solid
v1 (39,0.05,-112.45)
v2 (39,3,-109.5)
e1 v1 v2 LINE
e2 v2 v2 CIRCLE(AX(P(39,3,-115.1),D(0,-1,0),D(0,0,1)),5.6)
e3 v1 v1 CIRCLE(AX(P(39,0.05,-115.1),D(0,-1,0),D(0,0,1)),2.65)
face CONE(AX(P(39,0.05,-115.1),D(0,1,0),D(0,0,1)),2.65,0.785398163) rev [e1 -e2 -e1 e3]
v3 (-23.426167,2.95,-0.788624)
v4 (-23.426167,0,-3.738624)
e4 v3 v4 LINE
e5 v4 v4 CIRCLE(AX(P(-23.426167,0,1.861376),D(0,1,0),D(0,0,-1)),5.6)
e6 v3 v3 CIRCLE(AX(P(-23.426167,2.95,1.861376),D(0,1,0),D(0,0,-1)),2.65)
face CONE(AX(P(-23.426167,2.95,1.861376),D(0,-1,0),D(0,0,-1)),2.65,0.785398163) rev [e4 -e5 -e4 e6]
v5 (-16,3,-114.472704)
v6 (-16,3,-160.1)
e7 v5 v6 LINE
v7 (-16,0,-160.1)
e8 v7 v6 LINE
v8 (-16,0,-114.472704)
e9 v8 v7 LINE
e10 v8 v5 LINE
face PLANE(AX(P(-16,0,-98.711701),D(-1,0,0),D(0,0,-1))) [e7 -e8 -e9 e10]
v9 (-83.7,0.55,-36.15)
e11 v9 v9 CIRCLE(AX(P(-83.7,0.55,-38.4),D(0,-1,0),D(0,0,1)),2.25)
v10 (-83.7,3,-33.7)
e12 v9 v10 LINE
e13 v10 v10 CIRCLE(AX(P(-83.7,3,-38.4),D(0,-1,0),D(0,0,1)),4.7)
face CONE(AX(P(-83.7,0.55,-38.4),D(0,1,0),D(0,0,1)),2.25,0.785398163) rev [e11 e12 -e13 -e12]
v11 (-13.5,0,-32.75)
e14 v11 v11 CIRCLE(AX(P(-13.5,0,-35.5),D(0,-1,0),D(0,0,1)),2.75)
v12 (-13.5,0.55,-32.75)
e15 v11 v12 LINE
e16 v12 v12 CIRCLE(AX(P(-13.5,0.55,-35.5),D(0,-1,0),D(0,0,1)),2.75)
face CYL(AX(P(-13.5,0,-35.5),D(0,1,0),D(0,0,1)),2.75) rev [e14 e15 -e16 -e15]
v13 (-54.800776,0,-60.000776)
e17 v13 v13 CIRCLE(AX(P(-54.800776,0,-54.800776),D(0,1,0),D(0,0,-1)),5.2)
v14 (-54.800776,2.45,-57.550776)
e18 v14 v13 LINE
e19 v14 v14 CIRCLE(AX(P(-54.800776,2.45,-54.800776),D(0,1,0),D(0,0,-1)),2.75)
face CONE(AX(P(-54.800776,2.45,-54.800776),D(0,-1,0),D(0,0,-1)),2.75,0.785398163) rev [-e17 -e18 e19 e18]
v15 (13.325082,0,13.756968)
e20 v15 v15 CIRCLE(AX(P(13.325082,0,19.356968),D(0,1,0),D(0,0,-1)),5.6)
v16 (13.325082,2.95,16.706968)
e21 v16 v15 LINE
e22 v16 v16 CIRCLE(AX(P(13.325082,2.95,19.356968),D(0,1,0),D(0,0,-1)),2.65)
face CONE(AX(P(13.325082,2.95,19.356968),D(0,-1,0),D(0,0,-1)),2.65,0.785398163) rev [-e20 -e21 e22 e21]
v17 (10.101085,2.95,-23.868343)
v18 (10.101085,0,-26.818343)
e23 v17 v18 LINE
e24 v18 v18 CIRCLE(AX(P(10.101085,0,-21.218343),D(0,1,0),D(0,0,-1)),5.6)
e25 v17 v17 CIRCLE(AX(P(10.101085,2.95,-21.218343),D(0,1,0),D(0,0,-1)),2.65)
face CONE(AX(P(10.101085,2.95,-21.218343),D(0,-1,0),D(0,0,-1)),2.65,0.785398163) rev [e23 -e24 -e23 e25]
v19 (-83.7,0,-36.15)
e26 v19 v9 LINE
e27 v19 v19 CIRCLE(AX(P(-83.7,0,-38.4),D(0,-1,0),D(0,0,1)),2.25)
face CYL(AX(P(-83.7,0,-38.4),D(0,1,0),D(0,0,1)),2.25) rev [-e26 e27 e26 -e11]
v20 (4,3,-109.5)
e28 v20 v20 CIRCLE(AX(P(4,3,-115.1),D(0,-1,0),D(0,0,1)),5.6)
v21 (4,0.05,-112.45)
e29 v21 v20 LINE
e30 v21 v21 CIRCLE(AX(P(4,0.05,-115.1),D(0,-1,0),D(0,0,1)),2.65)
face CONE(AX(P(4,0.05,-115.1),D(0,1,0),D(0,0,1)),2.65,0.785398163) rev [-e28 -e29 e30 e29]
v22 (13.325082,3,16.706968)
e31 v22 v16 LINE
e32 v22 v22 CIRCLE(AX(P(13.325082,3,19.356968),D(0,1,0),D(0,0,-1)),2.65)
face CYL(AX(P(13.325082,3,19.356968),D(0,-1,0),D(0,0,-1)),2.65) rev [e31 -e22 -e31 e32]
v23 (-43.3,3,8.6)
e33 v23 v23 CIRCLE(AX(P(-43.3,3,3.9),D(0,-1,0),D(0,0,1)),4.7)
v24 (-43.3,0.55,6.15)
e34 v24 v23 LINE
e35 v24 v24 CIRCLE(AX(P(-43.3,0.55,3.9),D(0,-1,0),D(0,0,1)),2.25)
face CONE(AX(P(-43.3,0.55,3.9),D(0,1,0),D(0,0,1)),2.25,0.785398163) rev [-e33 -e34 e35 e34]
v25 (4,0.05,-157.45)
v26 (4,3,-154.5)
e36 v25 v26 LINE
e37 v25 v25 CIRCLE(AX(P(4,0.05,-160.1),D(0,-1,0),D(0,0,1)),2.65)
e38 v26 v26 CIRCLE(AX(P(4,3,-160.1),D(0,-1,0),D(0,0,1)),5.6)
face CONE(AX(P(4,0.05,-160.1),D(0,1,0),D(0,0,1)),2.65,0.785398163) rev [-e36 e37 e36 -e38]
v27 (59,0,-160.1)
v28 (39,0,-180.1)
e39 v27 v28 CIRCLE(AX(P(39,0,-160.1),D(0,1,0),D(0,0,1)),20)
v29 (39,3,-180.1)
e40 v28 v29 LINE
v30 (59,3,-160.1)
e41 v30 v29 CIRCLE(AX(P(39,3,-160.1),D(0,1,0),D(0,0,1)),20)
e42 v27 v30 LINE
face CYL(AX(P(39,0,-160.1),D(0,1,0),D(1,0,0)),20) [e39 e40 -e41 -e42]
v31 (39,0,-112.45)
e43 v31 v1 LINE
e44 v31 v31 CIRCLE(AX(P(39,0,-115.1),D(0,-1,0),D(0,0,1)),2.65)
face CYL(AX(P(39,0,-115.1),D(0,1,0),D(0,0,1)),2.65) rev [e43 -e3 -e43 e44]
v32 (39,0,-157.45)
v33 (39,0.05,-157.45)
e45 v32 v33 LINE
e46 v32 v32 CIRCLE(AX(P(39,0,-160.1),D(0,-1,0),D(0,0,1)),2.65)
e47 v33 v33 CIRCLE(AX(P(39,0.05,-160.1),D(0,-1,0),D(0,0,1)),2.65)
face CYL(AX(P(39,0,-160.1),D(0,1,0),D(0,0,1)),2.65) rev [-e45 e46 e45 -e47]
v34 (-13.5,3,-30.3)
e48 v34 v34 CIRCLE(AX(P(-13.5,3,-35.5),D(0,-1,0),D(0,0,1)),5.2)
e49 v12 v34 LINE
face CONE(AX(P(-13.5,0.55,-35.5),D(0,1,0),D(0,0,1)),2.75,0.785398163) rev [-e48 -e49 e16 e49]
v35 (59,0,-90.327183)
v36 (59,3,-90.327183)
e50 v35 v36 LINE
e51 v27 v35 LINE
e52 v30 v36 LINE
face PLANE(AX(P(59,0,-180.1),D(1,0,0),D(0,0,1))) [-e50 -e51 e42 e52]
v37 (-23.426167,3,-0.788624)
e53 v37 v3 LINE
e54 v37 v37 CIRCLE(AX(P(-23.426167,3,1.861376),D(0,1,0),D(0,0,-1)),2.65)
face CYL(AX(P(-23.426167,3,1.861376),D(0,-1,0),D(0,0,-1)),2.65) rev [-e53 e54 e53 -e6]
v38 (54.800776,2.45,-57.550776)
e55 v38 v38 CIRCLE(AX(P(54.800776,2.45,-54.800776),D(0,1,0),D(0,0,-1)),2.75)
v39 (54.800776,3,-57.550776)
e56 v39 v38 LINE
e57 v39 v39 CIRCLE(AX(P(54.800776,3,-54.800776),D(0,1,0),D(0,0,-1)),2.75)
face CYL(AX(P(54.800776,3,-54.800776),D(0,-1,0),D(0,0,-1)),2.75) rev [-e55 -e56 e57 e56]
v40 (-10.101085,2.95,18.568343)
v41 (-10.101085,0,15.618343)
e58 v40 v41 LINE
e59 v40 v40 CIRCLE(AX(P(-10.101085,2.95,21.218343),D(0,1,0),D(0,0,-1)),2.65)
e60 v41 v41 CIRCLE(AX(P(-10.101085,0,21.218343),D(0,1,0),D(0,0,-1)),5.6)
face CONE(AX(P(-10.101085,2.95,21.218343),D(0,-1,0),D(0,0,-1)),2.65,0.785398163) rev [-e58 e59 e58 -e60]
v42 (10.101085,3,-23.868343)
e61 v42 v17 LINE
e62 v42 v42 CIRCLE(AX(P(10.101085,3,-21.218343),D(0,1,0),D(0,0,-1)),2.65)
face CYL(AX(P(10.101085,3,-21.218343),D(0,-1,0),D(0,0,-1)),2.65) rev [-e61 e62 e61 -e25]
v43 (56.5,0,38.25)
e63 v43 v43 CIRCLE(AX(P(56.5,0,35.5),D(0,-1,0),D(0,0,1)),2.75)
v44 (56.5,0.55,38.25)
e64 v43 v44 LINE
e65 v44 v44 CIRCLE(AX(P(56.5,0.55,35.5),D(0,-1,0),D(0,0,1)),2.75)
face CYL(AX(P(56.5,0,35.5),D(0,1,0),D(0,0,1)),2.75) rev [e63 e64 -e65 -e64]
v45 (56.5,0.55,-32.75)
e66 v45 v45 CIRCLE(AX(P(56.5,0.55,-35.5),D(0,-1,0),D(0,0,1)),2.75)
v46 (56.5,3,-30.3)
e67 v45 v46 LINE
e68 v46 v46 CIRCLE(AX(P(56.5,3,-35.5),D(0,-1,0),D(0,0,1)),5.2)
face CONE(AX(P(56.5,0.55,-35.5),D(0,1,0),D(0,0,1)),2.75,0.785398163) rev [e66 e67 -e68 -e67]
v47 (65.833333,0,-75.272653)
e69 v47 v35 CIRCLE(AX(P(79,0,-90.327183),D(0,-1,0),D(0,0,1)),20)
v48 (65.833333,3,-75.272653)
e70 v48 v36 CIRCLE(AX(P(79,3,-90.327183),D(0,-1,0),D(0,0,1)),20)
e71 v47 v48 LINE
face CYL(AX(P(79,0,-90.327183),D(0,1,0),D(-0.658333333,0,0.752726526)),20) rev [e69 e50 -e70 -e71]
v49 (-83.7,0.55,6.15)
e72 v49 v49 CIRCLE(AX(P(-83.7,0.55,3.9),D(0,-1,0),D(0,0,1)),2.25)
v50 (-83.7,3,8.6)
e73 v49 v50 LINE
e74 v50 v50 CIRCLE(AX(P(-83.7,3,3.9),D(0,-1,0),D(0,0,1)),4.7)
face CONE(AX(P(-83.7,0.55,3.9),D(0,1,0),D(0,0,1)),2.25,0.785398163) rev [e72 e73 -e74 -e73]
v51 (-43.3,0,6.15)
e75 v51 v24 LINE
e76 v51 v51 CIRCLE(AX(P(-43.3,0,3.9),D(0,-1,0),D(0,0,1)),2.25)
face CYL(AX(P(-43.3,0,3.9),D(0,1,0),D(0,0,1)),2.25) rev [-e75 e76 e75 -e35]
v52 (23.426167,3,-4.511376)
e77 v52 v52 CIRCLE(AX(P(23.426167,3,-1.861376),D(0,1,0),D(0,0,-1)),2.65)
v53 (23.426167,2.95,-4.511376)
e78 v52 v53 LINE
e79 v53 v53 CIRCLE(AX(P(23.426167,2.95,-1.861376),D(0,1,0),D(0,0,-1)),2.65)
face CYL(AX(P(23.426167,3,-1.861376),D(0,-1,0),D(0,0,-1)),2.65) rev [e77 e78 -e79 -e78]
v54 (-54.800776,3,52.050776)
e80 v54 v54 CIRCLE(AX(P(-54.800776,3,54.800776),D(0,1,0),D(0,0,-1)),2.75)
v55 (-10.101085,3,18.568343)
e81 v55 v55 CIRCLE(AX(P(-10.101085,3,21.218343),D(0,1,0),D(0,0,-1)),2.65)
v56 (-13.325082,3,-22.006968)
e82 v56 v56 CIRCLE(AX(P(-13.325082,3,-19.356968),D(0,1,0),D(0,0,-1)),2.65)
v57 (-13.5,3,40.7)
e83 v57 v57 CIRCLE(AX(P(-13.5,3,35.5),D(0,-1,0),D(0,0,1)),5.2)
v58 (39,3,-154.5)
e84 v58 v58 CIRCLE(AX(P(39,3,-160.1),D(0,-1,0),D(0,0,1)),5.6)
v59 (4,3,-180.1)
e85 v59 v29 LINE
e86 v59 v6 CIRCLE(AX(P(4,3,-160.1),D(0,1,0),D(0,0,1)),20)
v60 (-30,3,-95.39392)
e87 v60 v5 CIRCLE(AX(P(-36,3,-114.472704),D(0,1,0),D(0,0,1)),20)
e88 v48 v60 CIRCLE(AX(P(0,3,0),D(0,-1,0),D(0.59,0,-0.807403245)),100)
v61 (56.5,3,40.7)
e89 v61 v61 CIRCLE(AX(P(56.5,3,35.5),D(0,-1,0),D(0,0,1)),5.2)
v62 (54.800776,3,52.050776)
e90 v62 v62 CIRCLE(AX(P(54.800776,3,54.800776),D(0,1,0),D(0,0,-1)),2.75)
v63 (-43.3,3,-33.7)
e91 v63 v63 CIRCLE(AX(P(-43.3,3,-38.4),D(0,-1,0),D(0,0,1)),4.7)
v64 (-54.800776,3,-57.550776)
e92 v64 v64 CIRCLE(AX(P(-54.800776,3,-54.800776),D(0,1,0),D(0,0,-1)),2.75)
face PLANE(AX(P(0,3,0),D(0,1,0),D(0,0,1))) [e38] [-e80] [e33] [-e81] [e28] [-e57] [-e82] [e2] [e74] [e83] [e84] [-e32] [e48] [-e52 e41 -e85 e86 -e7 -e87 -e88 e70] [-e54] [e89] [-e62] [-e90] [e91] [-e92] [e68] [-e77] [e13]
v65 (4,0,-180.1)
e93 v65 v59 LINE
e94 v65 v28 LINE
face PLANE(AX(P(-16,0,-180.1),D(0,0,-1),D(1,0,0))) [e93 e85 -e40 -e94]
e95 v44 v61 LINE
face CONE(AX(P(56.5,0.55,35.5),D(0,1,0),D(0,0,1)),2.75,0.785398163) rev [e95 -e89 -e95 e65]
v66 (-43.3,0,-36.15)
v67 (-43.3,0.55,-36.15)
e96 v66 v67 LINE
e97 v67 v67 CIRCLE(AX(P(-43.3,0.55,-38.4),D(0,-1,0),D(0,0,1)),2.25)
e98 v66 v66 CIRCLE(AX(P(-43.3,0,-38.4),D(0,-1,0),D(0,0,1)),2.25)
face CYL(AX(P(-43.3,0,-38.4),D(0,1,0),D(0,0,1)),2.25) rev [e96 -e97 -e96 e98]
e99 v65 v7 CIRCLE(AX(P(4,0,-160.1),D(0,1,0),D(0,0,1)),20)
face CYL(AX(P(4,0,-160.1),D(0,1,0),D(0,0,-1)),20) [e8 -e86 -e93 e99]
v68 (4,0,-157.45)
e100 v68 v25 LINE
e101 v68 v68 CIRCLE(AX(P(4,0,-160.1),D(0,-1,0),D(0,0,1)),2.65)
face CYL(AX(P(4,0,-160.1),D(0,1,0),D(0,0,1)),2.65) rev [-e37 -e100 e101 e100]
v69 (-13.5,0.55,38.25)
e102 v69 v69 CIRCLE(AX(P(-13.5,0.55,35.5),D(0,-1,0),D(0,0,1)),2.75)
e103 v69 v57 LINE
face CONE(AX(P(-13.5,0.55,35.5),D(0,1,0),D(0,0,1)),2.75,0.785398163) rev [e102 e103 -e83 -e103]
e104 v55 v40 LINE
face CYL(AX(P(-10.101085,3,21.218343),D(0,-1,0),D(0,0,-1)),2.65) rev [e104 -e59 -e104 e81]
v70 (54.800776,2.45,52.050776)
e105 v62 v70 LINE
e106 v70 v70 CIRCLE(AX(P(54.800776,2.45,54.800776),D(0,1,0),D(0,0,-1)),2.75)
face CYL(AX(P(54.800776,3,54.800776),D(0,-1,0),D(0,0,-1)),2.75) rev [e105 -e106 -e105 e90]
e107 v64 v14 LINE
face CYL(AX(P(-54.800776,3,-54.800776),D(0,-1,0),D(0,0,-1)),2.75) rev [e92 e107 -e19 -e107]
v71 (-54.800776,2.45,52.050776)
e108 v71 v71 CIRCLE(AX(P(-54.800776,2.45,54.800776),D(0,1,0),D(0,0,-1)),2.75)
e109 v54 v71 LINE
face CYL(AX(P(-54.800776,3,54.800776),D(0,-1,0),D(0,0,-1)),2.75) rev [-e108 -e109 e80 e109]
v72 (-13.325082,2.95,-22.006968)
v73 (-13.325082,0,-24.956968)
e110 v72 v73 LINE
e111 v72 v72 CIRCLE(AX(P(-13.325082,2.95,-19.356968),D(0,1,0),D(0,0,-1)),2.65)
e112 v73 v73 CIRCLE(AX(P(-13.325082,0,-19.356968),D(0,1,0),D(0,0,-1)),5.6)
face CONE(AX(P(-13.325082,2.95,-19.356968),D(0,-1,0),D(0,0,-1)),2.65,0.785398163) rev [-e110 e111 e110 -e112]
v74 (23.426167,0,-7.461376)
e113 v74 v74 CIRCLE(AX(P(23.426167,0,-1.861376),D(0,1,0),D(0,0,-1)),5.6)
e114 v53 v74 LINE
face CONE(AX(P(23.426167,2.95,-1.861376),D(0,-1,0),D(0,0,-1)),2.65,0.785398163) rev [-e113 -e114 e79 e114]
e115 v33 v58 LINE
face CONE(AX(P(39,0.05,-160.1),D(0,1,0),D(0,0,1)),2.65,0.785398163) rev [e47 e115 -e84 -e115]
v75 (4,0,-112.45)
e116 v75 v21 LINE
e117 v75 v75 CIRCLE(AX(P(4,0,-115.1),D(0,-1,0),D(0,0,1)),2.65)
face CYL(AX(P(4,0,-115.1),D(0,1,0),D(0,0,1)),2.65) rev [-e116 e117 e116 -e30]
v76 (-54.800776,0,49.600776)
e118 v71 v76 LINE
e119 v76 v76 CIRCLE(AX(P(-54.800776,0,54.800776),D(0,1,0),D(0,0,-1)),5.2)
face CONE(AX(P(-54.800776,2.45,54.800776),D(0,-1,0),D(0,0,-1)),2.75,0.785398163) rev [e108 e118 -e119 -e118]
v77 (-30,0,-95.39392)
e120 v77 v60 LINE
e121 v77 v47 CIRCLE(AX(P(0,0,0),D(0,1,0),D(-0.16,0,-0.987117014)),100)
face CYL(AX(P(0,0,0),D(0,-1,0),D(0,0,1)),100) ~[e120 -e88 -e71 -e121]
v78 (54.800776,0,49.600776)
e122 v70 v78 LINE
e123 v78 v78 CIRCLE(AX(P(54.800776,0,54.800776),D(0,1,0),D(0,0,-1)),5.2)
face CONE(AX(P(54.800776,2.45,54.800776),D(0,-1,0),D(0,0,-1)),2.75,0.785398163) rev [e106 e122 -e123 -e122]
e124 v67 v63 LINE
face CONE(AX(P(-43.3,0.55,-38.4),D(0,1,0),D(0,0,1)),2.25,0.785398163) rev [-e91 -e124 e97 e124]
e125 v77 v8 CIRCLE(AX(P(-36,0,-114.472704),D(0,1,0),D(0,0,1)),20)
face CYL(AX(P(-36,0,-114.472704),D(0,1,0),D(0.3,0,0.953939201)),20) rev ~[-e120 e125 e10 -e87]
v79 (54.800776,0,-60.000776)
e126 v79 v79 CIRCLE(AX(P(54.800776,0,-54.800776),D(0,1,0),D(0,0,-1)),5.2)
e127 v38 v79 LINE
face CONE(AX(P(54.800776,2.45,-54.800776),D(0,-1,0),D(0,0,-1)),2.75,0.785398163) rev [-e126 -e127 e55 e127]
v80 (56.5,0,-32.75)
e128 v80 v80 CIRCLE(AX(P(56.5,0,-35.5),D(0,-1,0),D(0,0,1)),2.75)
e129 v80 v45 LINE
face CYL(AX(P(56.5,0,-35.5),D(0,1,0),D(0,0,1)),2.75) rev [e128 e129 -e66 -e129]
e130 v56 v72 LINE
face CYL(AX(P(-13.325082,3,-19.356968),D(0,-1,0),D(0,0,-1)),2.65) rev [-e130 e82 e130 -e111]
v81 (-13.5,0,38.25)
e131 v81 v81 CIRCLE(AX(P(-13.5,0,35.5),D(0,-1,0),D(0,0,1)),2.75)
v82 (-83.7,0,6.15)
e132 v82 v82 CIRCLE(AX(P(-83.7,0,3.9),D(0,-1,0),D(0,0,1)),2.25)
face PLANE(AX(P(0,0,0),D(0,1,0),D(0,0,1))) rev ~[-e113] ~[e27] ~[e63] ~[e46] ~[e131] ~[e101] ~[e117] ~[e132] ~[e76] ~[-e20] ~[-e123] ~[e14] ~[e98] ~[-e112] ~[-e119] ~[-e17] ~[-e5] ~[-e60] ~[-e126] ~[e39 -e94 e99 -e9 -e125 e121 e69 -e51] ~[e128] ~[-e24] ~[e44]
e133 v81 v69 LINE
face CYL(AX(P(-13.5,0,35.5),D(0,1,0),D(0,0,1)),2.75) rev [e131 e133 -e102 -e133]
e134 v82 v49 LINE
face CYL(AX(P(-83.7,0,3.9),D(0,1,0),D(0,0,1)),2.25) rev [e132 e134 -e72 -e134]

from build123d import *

# Parameters (mm, degrees)
SKETCH1_R                                      = 100
BOSS_EXTRUDE1_DEPTH                            = 3
CSK_FOR_M5_SFHCS1_AT_2_COUNT                   = 2
CSK_FOR_M5_SFHCS1_AT_2_PITCH                   = 23.5
CSK_FOR_M5_SFHCS1_AT_3_COUNT                   = 2
CSK_FOR_M5_SFHCS1_AT_3_PITCH                   = 40.703193978
CSK_FOR_M5_SFHCS1_AT_4_COUNT                   = 2
CSK_FOR_M5_SFHCS1_AT_4_PITCH                   = 47
CSK_FOR_M5_SFHCS1_AT_5_COUNT                   = 2
CSK_FOR_M5_SFHCS1_AT_5_PITCH                   = 40.703193978
CSK_FOR_M5_SFHCS1_AT_6_COUNT                   = 2
CSK_FOR_M5_SFHCS1_AT_6_PITCH                   = 23.5
BOSS_EXTRUDE2_DEPTH                            = 3
FILLET1_R                                      = 20
CSK_FOR_M5_SFHCS2_AT_2_COUNT                   = 2
CSK_FOR_M5_SFHCS2_AT_2_PITCH                   = 35
CSK_FOR_M5_SFHCS2_AT_3_COUNT                   = 2
CSK_FOR_M5_SFHCS2_AT_3_PITCH                   = 45
CSK_FOR_M5_SFHCS2_AT_4_COUNT                   = 2
CSK_FOR_M5_SFHCS2_AT_4_PITCH                   = 57.008771255
CSK_FOR_M5_FLAT_HEAD_MACHINE_SCREW2_AT_2_COUNT = 2
CSK_FOR_M5_FLAT_HEAD_MACHINE_SCREW2_AT_2_PITCH = 70
CSK_FOR_M5_FLAT_HEAD_MACHINE_SCREW2_AT_3_COUNT = 2
CSK_FOR_M5_FLAT_HEAD_MACHINE_SCREW2_AT_3_PITCH = 99.704563587
CSK_FOR_M5_FLAT_HEAD_MACHINE_SCREW2_AT_4_COUNT = 2
CSK_FOR_M5_FLAT_HEAD_MACHINE_SCREW2_AT_4_PITCH = 71
CSK_FOR_M4_FLAT_HEAD_MACHINE_SCREW1_AT_2_COUNT = 2
CSK_FOR_M4_FLAT_HEAD_MACHINE_SCREW1_AT_2_PITCH = 42.3
CSK_FOR_M4_FLAT_HEAD_MACHINE_SCREW1_AT_3_COUNT = 2
CSK_FOR_M4_FLAT_HEAD_MACHINE_SCREW1_AT_3_PITCH = 40.4
CSK_FOR_M4_FLAT_HEAD_MACHINE_SCREW1_AT_4_COUNT = 2
CSK_FOR_M4_FLAT_HEAD_MACHINE_SCREW1_AT_4_PITCH = 58.493161994
CSK_FOR_M5_FLAT_HEAD_MACHINE_SCREW3_AT_2_COUNT = 2
CSK_FOR_M5_FLAT_HEAD_MACHINE_SCREW3_AT_2_PITCH = 155
CSK_FOR_M5_FLAT_HEAD_MACHINE_SCREW3_AT_3_COUNT = 2
CSK_FOR_M5_FLAT_HEAD_MACHINE_SCREW3_AT_3_PITCH = 109.601551084
CSK_FOR_M5_FLAT_HEAD_MACHINE_SCREW3_AT_4_COUNT = 2
CSK_FOR_M5_FLAT_HEAD_MACHINE_SCREW3_AT_4_PITCH = 109.601551084


with BuildPart() as part:
    # Sketch1 → Boss-Extrude1 (new body)
    with BuildSketch(Plane(origin=(0, 0, 0), x_dir=(1, 0, 0), z_dir=(0, 1, 0))):
        with Locations(Location((0, 0, 0), (0, 0, 270))):
            Circle(SKETCH1_R)
    extrude(amount=BOSS_EXTRUDE1_DEPTH)

    # Sketch6 → CSK for M5 SFHCS1 (revolve, cut)
    with BuildSketch(Plane(origin=(-13.325081846, 0, -19.356967578), x_dir=(0, 0, -1), z_dir=(1, 0, 0))):
        Polygon((0, 0), (0, 3), (2.65, 3), (2.65, 2.95), (5.6, 0), align=None)
    csk_for_m5_sfhcs1 = revolve(axis=Axis((-13.325081846, -6.35, -19.356967578), (0, 1, 0)), mode=Mode.SUBTRACT)

    # CSK for M5 SFHCS1 at 2: CSK for M5 SFHCS1 ×2
    with Locations(*[Vector(0.9968581525690036, 0, -0.07920747222777241) * (i * CSK_FOR_M5_SFHCS1_AT_2_PITCH) for i in range(1, CSK_FOR_M5_SFHCS1_AT_2_COUNT)]):
        add(csk_for_m5_sfhcs1, mode=Mode.SUBTRACT)

    # CSK for M5 SFHCS1 at 3: CSK for M5 SFHCS1 ×2
    with Locations(*[Vector(0.902908220208267, 0, 0.4298333931657005) * (i * CSK_FOR_M5_SFHCS1_AT_3_PITCH) for i in range(1, CSK_FOR_M5_SFHCS1_AT_3_COUNT)]):
        add(csk_for_m5_sfhcs1, mode=Mode.SUBTRACT)

    # CSK for M5 SFHCS1 at 4: CSK for M5 SFHCS1 ×2
    with Locations(*[Vector(0.5670247594033001, 0, 0.8237007479804968) * (i * CSK_FOR_M5_SFHCS1_AT_4_PITCH) for i in range(1, CSK_FOR_M5_SFHCS1_AT_4_COUNT)]):
        add(csk_for_m5_sfhcs1, mode=Mode.SUBTRACT)

    # CSK for M5 SFHCS1 at 5: CSK for M5 SFHCS1 ×2
    with Locations(*[Vector(0.07920747222776865, 0, 0.9968581525690039) * (i * CSK_FOR_M5_SFHCS1_AT_5_PITCH) for i in range(1, CSK_FOR_M5_SFHCS1_AT_5_COUNT)]):
        add(csk_for_m5_sfhcs1, mode=Mode.SUBTRACT)

    # CSK for M5 SFHCS1 at 6: CSK for M5 SFHCS1 ×2
    with Locations(*[Vector(-0.4298333931657009, 0, 0.9029082202082669) * (i * CSK_FOR_M5_SFHCS1_AT_6_PITCH) for i in range(1, CSK_FOR_M5_SFHCS1_AT_6_COUNT)]):
        add(csk_for_m5_sfhcs1, mode=Mode.SUBTRACT)

    # Sketch7 → Boss-Extrude2 (add)
    with BuildSketch(Plane.XZ):
        with BuildLine():
            Line((-16, -98.711701434), (-16, -180.1))
            Line((-16, -180.1), (59, -180.1))
            Line((59, -180.1), (59, -80.740324498))
            ThreePointArc((59, -80.740324498), (23.302201554, -97.247145988), (-16, -98.711701434))
        make_face()
    extrude(amount=-BOSS_EXTRUDE2_DEPTH)

    # Fillet1
    fillet1_edges = [part.edges().sort_by_distance(p)[0] for p in [
        (-16, 1.5, -98.711701434),
        (59, 1.5, -80.740324498),
        (59, 1.5, -180.1),
        (-16, 1.5, -180.1),
    ]]
    fillet(fillet1_edges, radius=FILLET1_R)

    # Sketch14 → CSK for M5 SFHCS2 (revolve, cut)
    with BuildSketch(Plane(origin=(39, 3, -160.1), x_dir=(0, 0, 1), z_dir=(1, 0, 0))):
        Polygon((0, 0), (0, 3), (2.65, 3), (2.65, 2.95), (5.6, 0), align=None)
    csk_for_m5_sfhcs2 = revolve(axis=Axis((39, 9.35, -160.1), (0, -1, 0)), mode=Mode.SUBTRACT)

    # CSK for M5 SFHCS2 at 2: CSK for M5 SFHCS2 ×2
    with Locations(*[(-i * CSK_FOR_M5_SFHCS2_AT_2_PITCH, 0, 0) for i in range(1, CSK_FOR_M5_SFHCS2_AT_2_COUNT)]):
        add(csk_for_m5_sfhcs2, mode=Mode.SUBTRACT)

    # CSK for M5 SFHCS2 at 3: CSK for M5 SFHCS2 ×2
    with Locations(*[(0, 0, i * CSK_FOR_M5_SFHCS2_AT_3_PITCH) for i in range(1, CSK_FOR_M5_SFHCS2_AT_3_COUNT)]):
        add(csk_for_m5_sfhcs2, mode=Mode.SUBTRACT)

    # CSK for M5 SFHCS2 at 4: CSK for M5 SFHCS2 ×2
    with Locations(*[Vector(-0.6139406135149205, 0, 0.7893522173763264) * (i * CSK_FOR_M5_SFHCS2_AT_4_PITCH) for i in range(1, CSK_FOR_M5_SFHCS2_AT_4_COUNT)]):
        add(csk_for_m5_sfhcs2, mode=Mode.SUBTRACT)

    # Sketch17 → CSK for M5 Flat Head Machine Screw2 (revolve, cut)
    with BuildSketch(Plane(origin=(56.5, 3, -35.5), x_dir=(0, 0, 1), z_dir=(1, 0, 0))):
        Polygon((0, 0), (0, 3), (2.75, 3), (2.75, 2.45), (5.2, 0), align=None)
    csk_for_m5_flat_head_machine_screw2 = revolve(axis=Axis((56.5, 9.35, -35.5), (0, -1, 0)), mode=Mode.SUBTRACT)

    # CSK for M5 Flat Head Machine Screw2 at 2: CSK for M5 Flat Head Machine Screw2 ×2
    with Locations(*[(-i * CSK_FOR_M5_FLAT_HEAD_MACHINE_SCREW2_AT_2_PITCH, 0, 0) for i in range(1, CSK_FOR_M5_FLAT_HEAD_MACHINE_SCREW2_AT_2_COUNT)]):
        add(csk_for_m5_flat_head_machine_screw2, mode=Mode.SUBTRACT)

    # CSK for M5 Flat Head Machine Screw2 at 3: CSK for M5 Flat Head Machine Screw2 ×2
    with Locations(*[Vector(-0.7020741827848285, 0, 0.7121038139674688) * (i * CSK_FOR_M5_FLAT_HEAD_MACHINE_SCREW2_AT_3_PITCH) for i in range(1, CSK_FOR_M5_FLAT_HEAD_MACHINE_SCREW2_AT_3_COUNT)]):
        add(csk_for_m5_flat_head_machine_screw2, mode=Mode.SUBTRACT)

    # CSK for M5 Flat Head Machine Screw2 at 4: CSK for M5 Flat Head Machine Screw2 ×2
    with Locations(*[(0, 0, i * CSK_FOR_M5_FLAT_HEAD_MACHINE_SCREW2_AT_4_PITCH) for i in range(1, CSK_FOR_M5_FLAT_HEAD_MACHINE_SCREW2_AT_4_COUNT)]):
        add(csk_for_m5_flat_head_machine_screw2, mode=Mode.SUBTRACT)

    # Sketch19 → CSK for M4 Flat Head Machine Screw1 (revolve, cut)
    with BuildSketch(Plane(origin=(-43.3, 3, -38.4), x_dir=(0, 0, 1), z_dir=(1, 0, 0))):
        Polygon((0, 0), (0, 3), (2.25, 3), (2.25, 2.45), (4.7, 0), align=None)
    csk_for_m4_flat_head_machine_screw1 = revolve(axis=Axis((-43.3, 9.35, -38.4), (0, -1, 0)), mode=Mode.SUBTRACT)

    # CSK for M4 Flat Head Machine Screw1 at 2: CSK for M4 Flat Head Machine Screw1 ×2
    with Locations(*[(0, 0, i * CSK_FOR_M4_FLAT_HEAD_MACHINE_SCREW1_AT_2_PITCH) for i in range(1, CSK_FOR_M4_FLAT_HEAD_MACHINE_SCREW1_AT_2_COUNT)]):
        add(csk_for_m4_flat_head_machine_screw1, mode=Mode.SUBTRACT)

    # CSK for M4 Flat Head Machine Screw1 at 3: CSK for M4 Flat Head Machine Screw1 ×2
    with Locations(*[(-i * CSK_FOR_M4_FLAT_HEAD_MACHINE_SCREW1_AT_3_PITCH, 0, 0) for i in range(1, CSK_FOR_M4_FLAT_HEAD_MACHINE_SCREW1_AT_3_COUNT)]):
        add(csk_for_m4_flat_head_machine_screw1, mode=Mode.SUBTRACT)

    # CSK for M4 Flat Head Machine Screw1 at 4: CSK for M4 Flat Head Machine Screw1 ×2
    with Locations(*[Vector(-0.6906790233784355, 0, 0.7231614526957384) * (i * CSK_FOR_M4_FLAT_HEAD_MACHINE_SCREW1_AT_4_PITCH) for i in range(1, CSK_FOR_M4_FLAT_HEAD_MACHINE_SCREW1_AT_4_COUNT)]):
        add(csk_for_m4_flat_head_machine_screw1, mode=Mode.SUBTRACT)

    # Sketch21 → CSK for M5 Flat Head Machine Screw3 (revolve, cut)
    with BuildSketch(Plane(origin=(-54.800775542, 0, 54.800775542), x_dir=(0, 0, -1), z_dir=(1, 0, 0))):
        Polygon((0, 0), (0, 3), (2.75, 3), (2.75, 2.45), (5.2, 0), align=None)
    csk_for_m5_flat_head_machine_screw3 = revolve(axis=Axis((-54.800775542, -6.35, 54.800775542), (0, 1, 0)), mode=Mode.SUBTRACT)

    # CSK for M5 Flat Head Machine Screw3 at 2: CSK for M5 Flat Head Machine Screw3 ×2
    with Locations(*[Vector(0.7071067811865415, 0, -0.7071067811865537) * (i * CSK_FOR_M5_FLAT_HEAD_MACHINE_SCREW3_AT_2_PITCH) for i in range(1, CSK_FOR_M5_FLAT_HEAD_MACHINE_SCREW3_AT_2_COUNT)]):
        add(csk_for_m5_flat_head_machine_screw3, mode=Mode.SUBTRACT)

    # CSK for M5 Flat Head Machine Screw3 at 3: CSK for M5 Flat Head Machine Screw3 ×2
    with Locations(*[(0, 0, -i * CSK_FOR_M5_FLAT_HEAD_MACHINE_SCREW3_AT_3_PITCH) for i in range(1, CSK_FOR_M5_FLAT_HEAD_MACHINE_SCREW3_AT_3_COUNT)]):
        add(csk_for_m5_flat_head_machine_screw3, mode=Mode.SUBTRACT)

    # CSK for M5 Flat Head Machine Screw3 at 4: CSK for M5 Flat Head Machine Screw3 ×2
    with Locations(*[(i * CSK_FOR_M5_FLAT_HEAD_MACHINE_SCREW3_AT_4_PITCH, 0, 0) for i in range(1, CSK_FOR_M5_FLAT_HEAD_MACHINE_SCREW3_AT_4_COUNT)]):
        add(csk_for_m5_flat_head_machine_screw3, mode=Mode.SUBTRACT)


solid = part.part
